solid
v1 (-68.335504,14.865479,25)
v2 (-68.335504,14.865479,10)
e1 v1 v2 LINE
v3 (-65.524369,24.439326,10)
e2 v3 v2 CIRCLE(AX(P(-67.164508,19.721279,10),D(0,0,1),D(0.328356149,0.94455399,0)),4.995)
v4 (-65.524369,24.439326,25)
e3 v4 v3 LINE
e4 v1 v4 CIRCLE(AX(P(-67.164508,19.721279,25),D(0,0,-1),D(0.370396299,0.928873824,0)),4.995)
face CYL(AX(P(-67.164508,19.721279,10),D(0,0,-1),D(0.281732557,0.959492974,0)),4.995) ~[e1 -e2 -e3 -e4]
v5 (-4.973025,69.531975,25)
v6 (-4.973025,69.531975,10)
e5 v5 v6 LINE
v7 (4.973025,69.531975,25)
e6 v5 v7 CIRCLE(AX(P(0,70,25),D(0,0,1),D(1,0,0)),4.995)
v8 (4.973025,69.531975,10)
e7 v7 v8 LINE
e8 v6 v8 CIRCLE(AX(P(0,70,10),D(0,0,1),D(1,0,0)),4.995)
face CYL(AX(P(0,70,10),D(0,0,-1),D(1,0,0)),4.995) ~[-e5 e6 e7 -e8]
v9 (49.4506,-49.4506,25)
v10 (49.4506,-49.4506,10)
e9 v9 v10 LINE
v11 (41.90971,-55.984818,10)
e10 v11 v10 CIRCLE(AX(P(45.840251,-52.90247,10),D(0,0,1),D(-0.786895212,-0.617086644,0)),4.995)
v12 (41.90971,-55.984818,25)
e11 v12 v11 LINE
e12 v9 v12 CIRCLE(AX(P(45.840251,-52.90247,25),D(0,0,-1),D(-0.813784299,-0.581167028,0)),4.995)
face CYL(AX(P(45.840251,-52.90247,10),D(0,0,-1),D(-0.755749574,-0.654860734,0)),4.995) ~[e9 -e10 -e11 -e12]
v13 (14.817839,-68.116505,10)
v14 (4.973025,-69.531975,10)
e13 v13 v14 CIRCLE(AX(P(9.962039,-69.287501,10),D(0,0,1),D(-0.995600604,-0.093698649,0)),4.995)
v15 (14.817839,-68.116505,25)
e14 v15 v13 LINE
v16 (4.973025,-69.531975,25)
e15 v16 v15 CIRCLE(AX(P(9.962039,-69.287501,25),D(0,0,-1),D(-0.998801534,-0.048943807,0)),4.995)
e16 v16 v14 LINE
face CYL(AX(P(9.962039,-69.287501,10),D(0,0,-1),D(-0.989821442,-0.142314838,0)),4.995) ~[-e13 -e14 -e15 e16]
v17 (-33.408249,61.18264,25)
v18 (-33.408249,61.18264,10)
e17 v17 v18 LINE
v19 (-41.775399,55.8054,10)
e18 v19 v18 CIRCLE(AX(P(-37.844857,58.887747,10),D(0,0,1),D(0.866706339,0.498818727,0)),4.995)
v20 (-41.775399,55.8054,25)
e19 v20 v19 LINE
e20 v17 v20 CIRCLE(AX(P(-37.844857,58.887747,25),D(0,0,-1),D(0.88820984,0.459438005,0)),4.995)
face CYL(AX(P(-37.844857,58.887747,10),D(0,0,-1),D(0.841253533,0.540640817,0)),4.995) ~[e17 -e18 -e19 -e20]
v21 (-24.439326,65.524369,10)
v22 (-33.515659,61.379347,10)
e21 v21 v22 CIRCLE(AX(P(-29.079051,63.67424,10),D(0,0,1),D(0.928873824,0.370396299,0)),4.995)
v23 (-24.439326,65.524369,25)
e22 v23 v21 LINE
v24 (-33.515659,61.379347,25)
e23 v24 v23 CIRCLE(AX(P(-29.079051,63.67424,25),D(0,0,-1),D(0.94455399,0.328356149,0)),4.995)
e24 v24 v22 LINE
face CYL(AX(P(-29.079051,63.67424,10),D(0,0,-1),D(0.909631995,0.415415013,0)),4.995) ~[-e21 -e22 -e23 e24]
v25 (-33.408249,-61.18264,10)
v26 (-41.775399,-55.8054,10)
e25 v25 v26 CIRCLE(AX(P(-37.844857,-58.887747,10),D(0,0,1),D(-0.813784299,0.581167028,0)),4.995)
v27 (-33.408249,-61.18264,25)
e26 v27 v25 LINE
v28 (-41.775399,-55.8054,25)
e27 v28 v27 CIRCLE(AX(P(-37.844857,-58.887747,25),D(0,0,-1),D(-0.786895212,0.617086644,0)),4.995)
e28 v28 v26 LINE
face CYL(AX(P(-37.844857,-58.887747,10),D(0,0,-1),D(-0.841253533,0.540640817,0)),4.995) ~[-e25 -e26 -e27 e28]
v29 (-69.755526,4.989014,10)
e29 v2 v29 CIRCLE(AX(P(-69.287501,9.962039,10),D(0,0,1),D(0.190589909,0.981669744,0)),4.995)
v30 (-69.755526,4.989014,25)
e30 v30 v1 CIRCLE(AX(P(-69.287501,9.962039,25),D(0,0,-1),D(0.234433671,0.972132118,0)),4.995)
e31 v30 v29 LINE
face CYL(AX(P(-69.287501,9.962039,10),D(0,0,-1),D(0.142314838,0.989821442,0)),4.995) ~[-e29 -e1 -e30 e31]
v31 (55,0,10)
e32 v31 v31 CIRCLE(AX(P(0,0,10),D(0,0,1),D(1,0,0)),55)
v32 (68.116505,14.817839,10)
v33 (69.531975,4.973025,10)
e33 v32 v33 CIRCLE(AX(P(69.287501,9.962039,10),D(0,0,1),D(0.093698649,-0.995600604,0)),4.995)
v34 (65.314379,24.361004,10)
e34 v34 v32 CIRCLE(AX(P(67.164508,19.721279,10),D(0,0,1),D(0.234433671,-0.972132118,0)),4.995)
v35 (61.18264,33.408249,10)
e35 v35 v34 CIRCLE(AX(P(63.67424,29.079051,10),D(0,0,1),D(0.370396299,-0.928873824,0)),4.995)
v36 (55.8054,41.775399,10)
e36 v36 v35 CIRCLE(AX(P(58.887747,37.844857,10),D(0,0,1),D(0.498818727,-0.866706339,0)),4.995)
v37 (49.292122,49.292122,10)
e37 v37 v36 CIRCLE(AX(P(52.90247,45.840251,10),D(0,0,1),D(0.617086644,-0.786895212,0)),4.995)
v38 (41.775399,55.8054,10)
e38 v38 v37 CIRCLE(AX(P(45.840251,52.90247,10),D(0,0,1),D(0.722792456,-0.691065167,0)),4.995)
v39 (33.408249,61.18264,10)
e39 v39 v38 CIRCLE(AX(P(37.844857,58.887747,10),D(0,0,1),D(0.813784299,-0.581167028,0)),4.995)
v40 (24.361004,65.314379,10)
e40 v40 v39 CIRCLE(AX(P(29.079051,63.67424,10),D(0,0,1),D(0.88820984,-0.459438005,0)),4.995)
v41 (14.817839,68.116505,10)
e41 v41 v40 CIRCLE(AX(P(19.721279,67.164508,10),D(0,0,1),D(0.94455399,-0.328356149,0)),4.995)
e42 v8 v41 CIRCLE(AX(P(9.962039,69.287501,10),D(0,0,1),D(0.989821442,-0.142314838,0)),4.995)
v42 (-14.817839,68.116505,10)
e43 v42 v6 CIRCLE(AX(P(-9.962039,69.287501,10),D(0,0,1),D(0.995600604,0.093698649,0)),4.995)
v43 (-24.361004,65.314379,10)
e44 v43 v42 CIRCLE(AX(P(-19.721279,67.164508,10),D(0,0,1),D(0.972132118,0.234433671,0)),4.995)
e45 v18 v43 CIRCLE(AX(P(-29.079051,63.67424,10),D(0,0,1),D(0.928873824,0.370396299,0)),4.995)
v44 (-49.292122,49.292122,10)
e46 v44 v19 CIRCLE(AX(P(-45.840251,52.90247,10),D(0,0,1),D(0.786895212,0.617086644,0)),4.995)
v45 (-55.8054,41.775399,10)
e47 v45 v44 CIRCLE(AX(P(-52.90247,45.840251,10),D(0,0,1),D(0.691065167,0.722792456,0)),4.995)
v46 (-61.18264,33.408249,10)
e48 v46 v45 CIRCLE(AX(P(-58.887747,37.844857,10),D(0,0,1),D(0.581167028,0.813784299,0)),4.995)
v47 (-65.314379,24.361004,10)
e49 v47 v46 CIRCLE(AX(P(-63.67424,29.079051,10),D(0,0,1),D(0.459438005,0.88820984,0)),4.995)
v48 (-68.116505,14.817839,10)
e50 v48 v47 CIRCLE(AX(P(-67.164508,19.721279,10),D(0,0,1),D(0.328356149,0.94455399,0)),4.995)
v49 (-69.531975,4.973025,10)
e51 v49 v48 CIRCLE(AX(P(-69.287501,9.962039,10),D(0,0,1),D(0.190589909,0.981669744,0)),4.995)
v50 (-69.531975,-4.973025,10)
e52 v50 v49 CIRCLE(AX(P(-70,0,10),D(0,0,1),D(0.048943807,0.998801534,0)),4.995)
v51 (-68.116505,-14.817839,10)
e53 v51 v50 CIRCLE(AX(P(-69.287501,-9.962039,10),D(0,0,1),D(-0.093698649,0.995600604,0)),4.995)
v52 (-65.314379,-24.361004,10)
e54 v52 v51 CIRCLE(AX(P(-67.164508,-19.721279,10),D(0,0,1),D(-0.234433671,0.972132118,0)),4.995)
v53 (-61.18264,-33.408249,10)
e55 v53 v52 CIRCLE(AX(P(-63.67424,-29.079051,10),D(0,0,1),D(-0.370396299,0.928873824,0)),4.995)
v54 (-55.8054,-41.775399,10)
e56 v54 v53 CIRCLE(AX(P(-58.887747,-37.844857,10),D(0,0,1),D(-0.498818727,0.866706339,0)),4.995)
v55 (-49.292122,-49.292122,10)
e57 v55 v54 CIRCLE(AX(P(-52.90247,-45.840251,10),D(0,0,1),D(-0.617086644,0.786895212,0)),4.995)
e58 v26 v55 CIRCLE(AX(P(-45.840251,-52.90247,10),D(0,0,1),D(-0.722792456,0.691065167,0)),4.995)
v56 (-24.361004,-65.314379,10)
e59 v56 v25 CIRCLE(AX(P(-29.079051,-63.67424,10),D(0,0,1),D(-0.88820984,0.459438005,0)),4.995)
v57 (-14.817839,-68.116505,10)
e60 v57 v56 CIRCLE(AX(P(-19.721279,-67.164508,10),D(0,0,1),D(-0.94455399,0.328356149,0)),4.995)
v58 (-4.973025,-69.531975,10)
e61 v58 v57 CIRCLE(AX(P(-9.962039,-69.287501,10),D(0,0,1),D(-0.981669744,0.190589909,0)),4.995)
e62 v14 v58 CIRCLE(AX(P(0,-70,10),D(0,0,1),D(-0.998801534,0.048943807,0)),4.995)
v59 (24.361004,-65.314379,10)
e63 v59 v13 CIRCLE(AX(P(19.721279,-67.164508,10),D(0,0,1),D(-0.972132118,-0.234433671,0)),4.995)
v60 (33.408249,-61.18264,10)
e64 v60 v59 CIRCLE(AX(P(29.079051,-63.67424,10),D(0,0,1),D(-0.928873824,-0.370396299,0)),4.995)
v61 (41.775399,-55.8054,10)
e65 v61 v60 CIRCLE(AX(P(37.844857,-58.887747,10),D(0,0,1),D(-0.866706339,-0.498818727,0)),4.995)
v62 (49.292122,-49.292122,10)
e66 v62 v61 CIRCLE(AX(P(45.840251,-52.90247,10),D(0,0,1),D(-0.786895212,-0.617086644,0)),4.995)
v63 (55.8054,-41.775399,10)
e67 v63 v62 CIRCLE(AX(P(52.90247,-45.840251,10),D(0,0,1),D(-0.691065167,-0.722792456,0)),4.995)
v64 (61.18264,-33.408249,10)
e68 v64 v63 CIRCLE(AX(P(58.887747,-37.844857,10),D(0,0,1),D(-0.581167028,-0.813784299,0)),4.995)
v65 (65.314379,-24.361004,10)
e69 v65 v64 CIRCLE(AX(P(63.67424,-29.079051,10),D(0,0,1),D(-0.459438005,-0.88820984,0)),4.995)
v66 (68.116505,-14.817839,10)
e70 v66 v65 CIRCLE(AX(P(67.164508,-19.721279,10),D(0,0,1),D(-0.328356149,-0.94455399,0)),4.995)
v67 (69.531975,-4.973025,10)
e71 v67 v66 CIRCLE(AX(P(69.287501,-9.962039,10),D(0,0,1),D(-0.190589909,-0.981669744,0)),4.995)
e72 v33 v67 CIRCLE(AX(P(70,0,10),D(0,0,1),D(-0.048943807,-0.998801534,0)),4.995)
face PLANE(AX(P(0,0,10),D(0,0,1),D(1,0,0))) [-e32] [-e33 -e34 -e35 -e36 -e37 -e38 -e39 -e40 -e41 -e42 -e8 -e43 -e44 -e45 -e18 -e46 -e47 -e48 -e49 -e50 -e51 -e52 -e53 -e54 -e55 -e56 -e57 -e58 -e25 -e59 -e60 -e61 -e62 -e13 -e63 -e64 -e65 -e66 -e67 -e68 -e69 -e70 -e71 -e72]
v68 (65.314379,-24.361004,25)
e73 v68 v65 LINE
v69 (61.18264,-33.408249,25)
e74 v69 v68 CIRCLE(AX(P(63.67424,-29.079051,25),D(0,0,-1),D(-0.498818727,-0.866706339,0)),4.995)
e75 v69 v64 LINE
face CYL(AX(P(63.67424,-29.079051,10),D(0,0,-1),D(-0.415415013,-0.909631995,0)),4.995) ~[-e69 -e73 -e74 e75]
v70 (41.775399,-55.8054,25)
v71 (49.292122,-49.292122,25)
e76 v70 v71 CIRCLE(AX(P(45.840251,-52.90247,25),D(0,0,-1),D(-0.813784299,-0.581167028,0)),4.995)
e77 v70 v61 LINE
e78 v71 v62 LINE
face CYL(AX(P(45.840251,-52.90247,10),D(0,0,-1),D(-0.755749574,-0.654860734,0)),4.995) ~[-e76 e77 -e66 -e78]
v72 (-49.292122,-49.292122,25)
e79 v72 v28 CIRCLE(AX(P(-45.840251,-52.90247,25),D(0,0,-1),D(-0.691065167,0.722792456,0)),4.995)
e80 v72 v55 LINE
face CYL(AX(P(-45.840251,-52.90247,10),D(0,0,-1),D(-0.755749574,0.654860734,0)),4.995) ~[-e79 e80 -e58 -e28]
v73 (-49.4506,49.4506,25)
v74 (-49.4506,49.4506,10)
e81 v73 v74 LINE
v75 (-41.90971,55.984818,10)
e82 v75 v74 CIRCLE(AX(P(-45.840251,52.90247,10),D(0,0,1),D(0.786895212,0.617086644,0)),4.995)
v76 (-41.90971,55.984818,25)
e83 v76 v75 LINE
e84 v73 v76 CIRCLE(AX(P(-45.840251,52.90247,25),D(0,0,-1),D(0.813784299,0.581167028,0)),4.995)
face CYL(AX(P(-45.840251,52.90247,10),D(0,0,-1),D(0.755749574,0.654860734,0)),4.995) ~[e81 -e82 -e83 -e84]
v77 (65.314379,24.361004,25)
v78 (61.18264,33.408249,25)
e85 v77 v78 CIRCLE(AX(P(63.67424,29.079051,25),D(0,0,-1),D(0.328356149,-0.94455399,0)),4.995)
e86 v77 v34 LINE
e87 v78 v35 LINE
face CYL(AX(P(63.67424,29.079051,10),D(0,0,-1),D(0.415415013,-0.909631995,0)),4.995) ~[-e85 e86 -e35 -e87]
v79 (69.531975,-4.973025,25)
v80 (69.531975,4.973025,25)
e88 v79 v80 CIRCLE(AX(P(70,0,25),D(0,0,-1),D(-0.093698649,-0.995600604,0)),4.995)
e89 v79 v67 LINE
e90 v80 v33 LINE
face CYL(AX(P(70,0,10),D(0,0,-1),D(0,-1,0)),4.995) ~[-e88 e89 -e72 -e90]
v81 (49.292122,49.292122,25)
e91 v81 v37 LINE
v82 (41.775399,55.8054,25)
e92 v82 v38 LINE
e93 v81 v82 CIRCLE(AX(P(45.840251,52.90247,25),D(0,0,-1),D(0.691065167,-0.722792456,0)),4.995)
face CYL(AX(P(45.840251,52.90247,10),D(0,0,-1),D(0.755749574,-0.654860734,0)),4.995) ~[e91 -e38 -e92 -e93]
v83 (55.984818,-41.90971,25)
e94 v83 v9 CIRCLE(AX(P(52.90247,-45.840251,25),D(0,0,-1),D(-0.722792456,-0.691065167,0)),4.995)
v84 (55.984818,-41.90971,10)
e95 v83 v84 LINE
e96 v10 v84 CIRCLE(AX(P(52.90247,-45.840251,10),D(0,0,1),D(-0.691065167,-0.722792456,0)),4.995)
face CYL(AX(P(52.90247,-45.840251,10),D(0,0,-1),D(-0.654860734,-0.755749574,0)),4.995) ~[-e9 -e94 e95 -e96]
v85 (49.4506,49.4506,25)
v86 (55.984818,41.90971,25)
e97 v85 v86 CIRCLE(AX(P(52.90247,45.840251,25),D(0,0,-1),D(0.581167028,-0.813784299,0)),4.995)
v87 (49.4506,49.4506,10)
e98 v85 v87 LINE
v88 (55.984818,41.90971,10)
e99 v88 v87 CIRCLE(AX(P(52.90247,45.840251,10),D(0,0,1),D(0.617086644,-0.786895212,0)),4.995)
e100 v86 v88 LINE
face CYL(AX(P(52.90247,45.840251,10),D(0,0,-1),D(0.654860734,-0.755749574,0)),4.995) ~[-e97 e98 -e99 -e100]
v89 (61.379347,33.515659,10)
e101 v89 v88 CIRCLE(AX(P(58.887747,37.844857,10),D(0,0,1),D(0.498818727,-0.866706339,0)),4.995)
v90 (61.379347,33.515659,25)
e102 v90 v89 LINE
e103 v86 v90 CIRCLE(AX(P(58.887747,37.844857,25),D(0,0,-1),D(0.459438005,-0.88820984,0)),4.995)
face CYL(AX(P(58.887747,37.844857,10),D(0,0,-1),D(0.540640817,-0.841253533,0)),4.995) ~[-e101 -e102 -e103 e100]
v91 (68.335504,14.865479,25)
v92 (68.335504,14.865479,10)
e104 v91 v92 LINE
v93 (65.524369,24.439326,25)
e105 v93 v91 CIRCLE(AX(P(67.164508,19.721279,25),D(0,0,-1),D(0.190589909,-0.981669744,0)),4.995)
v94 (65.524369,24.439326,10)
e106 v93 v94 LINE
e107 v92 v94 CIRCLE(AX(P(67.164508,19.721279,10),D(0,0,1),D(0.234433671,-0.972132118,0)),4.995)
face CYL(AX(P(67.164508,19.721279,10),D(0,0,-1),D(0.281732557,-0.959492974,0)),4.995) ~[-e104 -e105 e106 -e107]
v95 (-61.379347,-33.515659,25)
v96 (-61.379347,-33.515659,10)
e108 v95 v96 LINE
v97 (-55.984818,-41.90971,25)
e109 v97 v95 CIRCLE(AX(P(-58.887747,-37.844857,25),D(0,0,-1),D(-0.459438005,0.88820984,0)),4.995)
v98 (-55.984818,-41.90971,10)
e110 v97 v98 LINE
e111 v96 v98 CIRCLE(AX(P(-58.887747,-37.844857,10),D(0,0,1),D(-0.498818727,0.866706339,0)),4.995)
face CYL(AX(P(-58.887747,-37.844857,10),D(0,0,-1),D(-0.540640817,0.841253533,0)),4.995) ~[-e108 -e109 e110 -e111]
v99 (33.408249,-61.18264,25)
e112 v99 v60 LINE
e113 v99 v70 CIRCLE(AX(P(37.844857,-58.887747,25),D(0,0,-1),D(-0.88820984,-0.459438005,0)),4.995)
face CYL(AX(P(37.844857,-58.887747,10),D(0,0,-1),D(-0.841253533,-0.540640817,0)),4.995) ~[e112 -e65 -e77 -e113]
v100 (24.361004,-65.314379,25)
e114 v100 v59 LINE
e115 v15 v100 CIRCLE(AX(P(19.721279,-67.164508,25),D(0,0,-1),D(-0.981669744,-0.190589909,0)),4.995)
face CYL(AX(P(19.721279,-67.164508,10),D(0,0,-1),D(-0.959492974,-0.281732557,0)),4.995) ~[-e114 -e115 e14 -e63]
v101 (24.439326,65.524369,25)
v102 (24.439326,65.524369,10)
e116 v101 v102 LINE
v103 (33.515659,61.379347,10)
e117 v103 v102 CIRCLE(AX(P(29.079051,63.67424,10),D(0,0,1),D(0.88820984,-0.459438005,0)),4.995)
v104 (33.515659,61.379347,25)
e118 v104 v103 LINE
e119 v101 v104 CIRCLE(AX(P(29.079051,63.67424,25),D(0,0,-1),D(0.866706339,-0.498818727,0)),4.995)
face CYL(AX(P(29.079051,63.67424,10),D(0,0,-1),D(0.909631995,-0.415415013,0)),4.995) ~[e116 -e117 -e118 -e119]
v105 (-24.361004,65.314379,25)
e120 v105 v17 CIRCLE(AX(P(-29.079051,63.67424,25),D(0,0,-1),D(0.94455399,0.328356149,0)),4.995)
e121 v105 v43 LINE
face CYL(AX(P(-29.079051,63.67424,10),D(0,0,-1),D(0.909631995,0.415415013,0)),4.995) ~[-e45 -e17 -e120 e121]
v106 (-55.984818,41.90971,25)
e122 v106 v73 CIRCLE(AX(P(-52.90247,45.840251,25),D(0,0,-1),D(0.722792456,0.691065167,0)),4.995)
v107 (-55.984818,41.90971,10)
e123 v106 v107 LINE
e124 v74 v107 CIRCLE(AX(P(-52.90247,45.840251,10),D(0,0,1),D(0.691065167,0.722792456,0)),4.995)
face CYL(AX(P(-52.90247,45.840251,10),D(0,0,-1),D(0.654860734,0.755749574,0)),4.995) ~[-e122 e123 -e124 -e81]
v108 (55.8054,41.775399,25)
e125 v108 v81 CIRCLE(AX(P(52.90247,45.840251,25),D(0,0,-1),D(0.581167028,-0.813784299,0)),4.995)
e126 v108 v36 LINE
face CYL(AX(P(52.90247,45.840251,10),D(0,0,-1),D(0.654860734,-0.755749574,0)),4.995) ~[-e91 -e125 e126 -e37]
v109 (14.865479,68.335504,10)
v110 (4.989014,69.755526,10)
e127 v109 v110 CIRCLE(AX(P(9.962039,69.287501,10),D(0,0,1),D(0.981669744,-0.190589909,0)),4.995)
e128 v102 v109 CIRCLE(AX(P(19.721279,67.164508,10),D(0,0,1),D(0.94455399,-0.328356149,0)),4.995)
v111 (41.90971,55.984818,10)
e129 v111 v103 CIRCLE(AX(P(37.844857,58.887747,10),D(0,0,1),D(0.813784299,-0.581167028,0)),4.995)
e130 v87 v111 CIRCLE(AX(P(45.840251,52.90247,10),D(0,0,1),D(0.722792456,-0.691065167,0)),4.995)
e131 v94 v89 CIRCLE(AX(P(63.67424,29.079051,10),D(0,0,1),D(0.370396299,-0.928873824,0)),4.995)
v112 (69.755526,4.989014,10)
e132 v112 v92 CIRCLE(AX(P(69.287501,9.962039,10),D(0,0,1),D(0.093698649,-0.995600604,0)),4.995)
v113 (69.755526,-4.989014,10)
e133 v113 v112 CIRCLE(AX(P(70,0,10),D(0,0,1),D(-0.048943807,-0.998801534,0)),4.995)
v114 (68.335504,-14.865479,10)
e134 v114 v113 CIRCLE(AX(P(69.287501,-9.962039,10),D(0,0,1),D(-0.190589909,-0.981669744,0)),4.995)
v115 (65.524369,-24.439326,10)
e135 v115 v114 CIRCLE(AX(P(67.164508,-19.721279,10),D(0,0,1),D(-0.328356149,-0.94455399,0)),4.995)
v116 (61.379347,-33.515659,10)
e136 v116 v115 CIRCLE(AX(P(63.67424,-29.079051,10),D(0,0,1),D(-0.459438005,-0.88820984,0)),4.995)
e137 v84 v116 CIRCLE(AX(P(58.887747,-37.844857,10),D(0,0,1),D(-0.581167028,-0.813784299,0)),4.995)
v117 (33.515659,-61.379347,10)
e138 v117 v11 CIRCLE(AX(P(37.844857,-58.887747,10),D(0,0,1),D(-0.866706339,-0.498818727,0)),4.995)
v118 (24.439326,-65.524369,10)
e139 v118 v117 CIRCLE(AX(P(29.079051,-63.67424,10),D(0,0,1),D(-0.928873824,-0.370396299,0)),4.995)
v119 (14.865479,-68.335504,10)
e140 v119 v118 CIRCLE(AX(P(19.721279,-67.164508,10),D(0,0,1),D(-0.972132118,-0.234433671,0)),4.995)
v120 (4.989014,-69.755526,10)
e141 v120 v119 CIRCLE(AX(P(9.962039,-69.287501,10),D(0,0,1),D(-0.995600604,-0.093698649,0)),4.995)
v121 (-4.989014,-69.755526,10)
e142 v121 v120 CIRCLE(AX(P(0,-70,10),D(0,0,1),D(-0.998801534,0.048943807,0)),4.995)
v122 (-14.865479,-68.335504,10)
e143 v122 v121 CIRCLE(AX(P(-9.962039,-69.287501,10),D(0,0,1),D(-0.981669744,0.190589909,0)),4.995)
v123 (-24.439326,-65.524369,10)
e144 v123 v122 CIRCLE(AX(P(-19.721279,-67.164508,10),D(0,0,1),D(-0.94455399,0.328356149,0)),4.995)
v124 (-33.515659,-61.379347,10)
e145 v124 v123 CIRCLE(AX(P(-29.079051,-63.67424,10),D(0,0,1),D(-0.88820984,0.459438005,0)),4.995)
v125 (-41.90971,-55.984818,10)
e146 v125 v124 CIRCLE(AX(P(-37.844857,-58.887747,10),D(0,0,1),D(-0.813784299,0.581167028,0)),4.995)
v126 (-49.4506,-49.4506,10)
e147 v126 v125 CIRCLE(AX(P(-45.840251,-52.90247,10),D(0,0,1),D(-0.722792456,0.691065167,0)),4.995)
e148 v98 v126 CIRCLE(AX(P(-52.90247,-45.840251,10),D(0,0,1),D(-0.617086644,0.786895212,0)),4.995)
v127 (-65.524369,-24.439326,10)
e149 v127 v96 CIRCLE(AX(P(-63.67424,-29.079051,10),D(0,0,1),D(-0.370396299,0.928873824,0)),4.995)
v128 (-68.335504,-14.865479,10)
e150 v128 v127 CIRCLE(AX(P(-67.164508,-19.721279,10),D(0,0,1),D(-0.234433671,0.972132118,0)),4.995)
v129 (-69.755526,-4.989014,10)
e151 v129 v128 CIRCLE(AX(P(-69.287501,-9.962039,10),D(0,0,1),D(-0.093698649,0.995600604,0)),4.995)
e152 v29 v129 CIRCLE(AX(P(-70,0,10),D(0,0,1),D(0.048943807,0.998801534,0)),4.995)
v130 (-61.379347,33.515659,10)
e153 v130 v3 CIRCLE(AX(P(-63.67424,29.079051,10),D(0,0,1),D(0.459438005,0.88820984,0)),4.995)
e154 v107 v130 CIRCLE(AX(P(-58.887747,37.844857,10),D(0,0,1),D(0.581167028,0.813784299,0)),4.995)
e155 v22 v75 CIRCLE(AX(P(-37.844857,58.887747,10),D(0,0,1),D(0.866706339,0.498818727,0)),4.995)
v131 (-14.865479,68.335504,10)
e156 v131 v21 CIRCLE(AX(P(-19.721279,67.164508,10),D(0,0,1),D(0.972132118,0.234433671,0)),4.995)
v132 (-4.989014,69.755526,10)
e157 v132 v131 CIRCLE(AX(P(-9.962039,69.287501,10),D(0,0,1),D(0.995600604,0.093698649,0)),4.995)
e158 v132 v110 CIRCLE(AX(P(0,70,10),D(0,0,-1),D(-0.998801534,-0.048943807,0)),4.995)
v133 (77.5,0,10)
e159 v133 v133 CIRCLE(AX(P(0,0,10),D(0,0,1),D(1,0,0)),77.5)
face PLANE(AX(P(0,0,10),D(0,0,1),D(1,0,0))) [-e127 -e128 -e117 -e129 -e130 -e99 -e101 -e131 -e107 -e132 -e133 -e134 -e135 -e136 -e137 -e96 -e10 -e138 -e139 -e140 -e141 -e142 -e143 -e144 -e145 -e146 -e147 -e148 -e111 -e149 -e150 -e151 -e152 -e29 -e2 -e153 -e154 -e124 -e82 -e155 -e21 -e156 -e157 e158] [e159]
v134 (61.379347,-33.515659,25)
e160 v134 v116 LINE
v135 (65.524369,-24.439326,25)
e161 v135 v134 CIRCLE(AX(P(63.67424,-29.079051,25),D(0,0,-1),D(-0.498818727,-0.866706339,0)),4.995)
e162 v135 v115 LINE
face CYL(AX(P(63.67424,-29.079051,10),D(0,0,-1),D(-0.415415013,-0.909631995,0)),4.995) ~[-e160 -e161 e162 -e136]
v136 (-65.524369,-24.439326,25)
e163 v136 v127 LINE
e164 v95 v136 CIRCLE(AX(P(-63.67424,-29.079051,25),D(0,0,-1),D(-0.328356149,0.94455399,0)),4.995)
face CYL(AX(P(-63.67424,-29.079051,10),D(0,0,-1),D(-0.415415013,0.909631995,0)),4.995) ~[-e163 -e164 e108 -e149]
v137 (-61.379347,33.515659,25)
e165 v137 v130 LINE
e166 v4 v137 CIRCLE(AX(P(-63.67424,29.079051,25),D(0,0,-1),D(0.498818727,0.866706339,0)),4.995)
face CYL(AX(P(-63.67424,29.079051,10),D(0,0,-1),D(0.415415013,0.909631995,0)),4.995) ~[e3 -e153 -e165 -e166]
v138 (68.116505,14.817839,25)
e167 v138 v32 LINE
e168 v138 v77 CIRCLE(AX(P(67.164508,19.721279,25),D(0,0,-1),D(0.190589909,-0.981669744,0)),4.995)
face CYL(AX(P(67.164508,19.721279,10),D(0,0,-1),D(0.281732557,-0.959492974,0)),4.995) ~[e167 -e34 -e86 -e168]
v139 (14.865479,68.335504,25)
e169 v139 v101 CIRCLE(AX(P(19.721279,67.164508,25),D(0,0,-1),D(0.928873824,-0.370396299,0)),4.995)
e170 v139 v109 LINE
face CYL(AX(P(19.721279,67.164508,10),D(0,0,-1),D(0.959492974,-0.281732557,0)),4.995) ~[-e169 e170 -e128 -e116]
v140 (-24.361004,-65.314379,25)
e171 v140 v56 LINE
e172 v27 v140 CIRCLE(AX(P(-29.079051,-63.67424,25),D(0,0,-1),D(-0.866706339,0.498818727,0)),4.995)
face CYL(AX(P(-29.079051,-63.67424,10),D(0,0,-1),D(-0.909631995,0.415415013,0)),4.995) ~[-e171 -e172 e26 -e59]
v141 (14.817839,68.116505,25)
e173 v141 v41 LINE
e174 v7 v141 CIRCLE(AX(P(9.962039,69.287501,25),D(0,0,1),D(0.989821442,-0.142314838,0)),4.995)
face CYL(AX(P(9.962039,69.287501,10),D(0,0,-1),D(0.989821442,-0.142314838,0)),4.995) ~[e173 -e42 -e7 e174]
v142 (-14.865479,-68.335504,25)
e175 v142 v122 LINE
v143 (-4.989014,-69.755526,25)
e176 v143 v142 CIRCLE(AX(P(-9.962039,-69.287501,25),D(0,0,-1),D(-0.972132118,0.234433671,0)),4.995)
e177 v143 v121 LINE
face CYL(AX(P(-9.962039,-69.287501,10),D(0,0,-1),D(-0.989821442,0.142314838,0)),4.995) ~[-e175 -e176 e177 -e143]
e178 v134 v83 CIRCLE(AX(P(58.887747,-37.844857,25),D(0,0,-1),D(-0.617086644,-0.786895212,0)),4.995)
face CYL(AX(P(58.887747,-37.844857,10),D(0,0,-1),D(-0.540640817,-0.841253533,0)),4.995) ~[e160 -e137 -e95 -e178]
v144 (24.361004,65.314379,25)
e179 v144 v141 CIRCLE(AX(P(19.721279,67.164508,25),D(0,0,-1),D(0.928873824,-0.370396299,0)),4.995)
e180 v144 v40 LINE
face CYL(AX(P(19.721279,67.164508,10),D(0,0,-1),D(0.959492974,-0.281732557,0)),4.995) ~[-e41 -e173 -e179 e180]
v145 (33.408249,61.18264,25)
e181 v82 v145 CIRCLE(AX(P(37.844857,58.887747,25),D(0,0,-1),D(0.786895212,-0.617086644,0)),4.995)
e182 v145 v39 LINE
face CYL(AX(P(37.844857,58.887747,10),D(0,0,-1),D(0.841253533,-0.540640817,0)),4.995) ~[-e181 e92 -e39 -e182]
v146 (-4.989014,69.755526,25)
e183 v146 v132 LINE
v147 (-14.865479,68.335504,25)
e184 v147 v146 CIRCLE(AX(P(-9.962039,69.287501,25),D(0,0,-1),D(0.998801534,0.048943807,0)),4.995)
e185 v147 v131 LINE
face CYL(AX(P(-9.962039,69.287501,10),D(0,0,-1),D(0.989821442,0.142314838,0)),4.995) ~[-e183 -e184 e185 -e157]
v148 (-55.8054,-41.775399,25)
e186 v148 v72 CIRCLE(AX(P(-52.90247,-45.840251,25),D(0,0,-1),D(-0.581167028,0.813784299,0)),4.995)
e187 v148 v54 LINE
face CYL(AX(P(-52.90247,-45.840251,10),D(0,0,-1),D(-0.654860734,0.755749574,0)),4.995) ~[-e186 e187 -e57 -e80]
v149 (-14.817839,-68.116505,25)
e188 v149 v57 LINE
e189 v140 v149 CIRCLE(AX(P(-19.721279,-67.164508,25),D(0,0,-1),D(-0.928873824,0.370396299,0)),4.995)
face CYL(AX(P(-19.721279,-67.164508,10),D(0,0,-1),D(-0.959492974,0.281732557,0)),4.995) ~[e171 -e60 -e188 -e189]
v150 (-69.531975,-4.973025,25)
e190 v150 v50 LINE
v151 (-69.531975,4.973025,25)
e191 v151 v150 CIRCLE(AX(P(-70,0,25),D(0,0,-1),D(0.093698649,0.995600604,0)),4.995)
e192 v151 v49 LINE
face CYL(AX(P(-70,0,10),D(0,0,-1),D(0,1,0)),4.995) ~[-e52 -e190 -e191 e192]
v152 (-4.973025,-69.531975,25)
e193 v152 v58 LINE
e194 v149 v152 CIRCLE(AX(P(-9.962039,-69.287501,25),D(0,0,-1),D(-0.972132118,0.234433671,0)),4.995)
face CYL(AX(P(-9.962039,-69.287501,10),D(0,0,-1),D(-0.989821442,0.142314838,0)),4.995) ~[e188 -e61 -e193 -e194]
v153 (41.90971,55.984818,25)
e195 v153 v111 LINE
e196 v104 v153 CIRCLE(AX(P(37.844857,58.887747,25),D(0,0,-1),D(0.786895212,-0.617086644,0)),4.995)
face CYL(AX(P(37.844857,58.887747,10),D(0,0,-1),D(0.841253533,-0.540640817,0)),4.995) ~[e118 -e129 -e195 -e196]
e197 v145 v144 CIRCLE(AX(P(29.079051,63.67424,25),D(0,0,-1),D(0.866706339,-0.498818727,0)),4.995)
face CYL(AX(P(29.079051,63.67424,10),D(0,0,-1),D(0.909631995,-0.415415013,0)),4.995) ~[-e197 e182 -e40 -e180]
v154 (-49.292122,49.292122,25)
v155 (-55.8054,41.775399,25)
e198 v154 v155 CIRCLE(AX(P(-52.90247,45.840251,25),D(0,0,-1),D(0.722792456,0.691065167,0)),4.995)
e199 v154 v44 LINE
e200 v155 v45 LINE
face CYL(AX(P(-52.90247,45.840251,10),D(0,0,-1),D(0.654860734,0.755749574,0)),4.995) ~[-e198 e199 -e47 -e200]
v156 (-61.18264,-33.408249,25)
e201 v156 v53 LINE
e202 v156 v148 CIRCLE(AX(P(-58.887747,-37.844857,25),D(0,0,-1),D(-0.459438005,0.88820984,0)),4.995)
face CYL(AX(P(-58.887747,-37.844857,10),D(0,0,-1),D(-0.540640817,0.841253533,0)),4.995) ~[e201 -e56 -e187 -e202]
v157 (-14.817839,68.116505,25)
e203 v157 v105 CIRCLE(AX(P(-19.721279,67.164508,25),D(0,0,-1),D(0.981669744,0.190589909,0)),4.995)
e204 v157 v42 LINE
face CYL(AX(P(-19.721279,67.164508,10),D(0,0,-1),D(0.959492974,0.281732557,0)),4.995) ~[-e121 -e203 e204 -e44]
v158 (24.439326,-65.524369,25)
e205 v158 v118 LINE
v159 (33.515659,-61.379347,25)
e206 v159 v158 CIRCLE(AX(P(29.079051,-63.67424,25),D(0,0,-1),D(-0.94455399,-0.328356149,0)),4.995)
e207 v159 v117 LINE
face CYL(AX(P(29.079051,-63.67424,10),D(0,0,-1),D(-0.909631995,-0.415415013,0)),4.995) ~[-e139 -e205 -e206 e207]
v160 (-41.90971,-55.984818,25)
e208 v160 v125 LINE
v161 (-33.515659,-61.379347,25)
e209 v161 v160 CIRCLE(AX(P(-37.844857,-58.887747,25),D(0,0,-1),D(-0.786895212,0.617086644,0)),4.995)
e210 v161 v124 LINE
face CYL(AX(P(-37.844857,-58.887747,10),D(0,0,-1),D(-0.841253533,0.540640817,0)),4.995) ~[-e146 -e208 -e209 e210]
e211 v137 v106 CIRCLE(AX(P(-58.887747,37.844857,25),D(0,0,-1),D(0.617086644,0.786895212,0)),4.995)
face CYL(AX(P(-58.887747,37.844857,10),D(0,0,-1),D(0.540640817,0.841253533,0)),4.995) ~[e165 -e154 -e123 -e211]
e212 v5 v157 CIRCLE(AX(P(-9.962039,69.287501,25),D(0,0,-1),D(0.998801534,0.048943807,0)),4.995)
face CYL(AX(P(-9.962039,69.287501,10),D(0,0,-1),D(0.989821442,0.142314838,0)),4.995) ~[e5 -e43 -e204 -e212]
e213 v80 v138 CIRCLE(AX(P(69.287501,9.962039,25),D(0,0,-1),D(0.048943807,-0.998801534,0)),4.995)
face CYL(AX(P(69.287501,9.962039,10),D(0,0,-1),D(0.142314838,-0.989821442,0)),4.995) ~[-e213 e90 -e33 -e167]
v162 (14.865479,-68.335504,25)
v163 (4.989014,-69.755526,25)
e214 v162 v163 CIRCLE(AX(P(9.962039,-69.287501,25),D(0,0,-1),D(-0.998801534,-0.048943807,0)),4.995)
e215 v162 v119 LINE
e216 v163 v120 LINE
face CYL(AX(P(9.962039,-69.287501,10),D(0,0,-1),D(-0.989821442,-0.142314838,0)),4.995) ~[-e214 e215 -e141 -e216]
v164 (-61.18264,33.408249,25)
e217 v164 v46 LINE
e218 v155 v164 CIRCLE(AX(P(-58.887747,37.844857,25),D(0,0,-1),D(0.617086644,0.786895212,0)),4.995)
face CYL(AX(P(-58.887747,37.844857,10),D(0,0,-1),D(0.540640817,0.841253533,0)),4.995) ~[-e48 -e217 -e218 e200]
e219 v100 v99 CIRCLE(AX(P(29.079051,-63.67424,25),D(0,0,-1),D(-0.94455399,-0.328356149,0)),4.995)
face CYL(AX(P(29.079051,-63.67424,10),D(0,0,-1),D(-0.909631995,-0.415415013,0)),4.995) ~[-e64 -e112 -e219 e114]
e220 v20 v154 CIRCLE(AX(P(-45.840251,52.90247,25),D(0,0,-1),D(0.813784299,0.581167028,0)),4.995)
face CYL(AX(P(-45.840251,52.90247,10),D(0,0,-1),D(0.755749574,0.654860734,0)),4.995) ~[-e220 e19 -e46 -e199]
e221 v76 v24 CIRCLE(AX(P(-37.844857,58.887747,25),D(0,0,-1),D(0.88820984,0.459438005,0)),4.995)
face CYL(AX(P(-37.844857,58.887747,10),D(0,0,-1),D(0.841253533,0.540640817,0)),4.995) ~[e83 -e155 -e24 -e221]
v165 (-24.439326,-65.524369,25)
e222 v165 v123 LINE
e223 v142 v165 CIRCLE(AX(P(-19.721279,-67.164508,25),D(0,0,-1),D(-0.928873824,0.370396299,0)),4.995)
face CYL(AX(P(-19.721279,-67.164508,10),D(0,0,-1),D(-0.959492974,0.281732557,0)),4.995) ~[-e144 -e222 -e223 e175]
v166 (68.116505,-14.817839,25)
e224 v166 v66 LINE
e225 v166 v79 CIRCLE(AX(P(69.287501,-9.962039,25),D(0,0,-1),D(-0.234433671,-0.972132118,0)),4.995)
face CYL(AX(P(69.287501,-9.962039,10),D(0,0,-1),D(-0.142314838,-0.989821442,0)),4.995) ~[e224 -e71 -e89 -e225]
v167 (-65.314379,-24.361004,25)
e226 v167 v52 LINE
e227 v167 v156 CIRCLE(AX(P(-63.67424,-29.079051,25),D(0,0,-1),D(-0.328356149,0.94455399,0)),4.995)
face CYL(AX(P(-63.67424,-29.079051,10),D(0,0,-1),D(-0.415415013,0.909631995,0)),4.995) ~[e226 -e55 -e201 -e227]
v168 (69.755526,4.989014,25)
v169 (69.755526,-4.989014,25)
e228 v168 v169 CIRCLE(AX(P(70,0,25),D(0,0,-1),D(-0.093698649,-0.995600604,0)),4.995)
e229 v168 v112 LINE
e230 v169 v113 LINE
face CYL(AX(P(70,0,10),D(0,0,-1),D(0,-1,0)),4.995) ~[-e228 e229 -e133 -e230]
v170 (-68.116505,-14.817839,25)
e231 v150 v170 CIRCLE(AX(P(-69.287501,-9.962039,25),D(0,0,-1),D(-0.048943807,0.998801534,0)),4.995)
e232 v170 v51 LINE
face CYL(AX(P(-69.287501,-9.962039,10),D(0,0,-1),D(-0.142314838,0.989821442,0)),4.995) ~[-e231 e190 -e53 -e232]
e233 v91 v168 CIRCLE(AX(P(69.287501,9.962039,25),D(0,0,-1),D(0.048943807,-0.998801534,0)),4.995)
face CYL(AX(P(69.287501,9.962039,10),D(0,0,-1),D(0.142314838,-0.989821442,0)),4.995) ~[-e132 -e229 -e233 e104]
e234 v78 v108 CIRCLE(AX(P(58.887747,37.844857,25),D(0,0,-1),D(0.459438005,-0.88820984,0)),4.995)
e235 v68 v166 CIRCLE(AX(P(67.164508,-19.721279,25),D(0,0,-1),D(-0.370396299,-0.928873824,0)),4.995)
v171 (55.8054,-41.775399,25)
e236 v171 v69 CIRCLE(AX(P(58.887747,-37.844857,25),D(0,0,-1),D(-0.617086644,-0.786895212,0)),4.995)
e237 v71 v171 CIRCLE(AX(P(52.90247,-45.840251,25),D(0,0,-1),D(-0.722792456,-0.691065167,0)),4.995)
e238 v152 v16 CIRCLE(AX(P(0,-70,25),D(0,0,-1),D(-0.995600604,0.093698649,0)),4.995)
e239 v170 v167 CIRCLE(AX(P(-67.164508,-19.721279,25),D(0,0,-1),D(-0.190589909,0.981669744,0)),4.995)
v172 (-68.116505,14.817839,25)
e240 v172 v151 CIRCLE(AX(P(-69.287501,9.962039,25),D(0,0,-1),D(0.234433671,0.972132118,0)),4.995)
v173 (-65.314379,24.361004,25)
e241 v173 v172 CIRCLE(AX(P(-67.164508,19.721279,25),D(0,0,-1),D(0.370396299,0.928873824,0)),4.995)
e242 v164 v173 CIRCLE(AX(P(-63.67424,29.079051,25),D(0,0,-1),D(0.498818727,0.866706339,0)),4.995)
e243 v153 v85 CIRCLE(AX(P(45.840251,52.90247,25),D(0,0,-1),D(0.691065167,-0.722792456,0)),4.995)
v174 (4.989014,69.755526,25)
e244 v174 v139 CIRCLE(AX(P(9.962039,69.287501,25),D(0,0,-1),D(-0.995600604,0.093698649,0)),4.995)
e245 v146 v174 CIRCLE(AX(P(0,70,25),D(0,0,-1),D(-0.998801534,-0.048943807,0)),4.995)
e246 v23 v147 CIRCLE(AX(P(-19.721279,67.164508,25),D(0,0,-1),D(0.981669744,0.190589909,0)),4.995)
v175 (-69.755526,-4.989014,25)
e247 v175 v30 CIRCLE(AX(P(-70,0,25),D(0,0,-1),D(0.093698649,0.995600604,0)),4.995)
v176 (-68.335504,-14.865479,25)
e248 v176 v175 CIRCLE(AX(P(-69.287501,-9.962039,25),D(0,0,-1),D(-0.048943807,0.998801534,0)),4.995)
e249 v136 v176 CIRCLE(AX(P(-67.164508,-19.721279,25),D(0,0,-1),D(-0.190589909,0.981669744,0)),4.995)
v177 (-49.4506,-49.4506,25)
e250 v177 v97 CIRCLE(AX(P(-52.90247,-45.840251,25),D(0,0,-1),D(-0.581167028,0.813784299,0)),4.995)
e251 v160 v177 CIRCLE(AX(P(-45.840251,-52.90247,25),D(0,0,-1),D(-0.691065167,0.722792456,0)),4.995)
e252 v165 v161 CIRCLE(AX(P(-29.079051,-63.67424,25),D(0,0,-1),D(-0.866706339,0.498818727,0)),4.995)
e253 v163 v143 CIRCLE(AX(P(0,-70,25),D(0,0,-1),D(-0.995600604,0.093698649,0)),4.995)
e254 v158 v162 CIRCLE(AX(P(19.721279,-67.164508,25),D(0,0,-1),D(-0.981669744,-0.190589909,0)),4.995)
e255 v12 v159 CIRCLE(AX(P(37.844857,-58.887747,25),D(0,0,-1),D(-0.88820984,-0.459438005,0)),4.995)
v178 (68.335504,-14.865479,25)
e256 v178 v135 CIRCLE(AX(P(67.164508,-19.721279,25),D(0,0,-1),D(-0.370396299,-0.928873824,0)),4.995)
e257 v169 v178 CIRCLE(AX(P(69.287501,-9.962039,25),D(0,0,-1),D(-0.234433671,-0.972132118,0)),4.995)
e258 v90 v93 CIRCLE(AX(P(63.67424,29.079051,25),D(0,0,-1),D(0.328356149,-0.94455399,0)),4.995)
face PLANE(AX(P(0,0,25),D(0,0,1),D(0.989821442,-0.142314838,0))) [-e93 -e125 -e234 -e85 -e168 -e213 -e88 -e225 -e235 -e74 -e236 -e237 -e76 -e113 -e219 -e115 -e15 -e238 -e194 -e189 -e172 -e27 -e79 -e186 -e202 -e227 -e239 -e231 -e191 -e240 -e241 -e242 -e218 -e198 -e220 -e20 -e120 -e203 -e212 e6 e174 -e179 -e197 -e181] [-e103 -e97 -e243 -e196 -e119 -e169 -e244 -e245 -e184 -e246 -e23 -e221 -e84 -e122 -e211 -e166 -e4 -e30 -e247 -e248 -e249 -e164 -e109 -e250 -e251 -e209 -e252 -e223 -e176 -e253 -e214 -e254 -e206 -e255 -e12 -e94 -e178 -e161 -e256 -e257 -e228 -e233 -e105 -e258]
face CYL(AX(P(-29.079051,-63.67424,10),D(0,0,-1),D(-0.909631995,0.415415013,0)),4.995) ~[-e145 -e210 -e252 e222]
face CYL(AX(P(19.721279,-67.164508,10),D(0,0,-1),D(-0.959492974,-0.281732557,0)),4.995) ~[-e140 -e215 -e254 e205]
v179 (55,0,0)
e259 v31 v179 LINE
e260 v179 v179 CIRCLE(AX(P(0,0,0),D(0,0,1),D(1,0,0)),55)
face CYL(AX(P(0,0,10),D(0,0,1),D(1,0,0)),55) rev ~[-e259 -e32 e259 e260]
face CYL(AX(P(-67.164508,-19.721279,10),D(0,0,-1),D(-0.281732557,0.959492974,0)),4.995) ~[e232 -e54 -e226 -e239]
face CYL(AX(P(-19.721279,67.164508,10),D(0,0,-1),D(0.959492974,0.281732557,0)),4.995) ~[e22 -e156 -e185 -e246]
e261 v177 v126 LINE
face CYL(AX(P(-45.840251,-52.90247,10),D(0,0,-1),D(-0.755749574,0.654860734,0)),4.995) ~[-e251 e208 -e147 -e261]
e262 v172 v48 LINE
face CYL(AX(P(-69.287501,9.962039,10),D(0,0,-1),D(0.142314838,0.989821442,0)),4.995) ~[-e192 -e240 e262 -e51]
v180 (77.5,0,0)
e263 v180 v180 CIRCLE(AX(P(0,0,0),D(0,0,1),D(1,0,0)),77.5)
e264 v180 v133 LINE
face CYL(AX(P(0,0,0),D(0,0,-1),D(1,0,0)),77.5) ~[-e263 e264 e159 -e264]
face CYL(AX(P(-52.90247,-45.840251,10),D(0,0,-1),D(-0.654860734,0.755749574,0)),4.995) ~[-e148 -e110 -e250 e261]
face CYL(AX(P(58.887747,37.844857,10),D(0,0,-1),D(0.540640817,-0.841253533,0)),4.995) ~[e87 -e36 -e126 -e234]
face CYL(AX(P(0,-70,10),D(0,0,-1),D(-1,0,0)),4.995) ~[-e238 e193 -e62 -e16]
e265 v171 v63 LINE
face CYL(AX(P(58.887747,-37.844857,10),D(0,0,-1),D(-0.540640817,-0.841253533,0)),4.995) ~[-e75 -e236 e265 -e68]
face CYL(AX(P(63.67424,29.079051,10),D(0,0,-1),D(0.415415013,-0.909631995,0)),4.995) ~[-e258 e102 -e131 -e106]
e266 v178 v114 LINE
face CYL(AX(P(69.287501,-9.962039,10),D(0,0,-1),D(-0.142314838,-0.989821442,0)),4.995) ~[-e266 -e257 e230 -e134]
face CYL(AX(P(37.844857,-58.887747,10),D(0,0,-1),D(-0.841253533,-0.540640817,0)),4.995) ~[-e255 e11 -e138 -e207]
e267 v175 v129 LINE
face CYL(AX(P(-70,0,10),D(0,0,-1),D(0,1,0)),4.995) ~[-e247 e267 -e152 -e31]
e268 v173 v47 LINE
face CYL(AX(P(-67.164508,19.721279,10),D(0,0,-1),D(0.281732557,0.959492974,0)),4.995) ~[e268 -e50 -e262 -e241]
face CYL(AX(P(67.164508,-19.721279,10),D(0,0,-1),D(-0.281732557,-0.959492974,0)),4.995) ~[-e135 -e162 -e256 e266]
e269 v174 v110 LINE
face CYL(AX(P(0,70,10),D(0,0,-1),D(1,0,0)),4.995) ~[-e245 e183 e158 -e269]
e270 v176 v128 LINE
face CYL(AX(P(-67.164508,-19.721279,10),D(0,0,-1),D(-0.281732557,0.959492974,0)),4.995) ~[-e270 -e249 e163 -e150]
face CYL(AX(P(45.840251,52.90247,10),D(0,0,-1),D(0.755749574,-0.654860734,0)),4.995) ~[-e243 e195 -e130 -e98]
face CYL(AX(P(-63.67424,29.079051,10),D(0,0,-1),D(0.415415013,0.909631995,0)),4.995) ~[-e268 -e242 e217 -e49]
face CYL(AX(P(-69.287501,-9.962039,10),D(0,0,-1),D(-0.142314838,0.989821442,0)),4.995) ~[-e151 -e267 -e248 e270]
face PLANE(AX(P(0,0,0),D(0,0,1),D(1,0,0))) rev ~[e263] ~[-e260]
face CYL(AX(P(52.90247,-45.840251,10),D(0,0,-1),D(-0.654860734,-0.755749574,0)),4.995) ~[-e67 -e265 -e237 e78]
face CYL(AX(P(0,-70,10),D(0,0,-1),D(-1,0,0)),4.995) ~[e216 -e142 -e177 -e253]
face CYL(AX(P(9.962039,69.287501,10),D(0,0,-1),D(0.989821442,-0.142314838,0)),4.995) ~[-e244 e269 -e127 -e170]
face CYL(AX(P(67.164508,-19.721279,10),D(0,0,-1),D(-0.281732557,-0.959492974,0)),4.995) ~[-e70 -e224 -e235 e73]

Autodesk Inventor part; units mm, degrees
ref_plane "YZ Plane" through (0, 0, 0) normal (1, 0, 0) x (0, 1, 0)
ref_plane "XZ Plane" through (0, 0, 0) normal (0, 1, 0) x (-1, 0, 0)
ref_plane "XY Plane" through (0, 0, 0) normal (0, 0, 1) x (1, 0, 0)
sketch "스케치1" plane through (0, 0, 0) normal (0, 0, 1) x (1, 0, 0)
  circle A0 centre (0, 0) radius 77.5
  dimension "d0" = 155
extrude "돌출1" add sketch "스케치1" along normal blind 10
sketch "스케치2" plane through (0, 0, 10) normal (0, 0, 1) x (1, 0, 0)
  circle A0 centre (0, 0) radius 70 construction
  line L0 (0, 0) -> (0, 70) construction
  circle A1 centre (0, 70) radius 4.995
  dimension "d3" = 140
  dimension "d4" = 9.99
extrude "돌출2" add sketch "스케치2" along normal blind 15
pattern_circular "원형 패턴1" count 44 over 360 about axis through (0, 0, 0) along (0, 0, 1) of "돌출2"
sketch "스케치3" plane through (0, 0, 10) normal (0, 0, 1) x (1, 0, 0)
  circle A0 centre (0, 0) radius 55
  dimension "d10" = 110
extrude "돌출3" cut sketch "스케치3" against normal up to surface (10 mm away)
properties part number "housing"
